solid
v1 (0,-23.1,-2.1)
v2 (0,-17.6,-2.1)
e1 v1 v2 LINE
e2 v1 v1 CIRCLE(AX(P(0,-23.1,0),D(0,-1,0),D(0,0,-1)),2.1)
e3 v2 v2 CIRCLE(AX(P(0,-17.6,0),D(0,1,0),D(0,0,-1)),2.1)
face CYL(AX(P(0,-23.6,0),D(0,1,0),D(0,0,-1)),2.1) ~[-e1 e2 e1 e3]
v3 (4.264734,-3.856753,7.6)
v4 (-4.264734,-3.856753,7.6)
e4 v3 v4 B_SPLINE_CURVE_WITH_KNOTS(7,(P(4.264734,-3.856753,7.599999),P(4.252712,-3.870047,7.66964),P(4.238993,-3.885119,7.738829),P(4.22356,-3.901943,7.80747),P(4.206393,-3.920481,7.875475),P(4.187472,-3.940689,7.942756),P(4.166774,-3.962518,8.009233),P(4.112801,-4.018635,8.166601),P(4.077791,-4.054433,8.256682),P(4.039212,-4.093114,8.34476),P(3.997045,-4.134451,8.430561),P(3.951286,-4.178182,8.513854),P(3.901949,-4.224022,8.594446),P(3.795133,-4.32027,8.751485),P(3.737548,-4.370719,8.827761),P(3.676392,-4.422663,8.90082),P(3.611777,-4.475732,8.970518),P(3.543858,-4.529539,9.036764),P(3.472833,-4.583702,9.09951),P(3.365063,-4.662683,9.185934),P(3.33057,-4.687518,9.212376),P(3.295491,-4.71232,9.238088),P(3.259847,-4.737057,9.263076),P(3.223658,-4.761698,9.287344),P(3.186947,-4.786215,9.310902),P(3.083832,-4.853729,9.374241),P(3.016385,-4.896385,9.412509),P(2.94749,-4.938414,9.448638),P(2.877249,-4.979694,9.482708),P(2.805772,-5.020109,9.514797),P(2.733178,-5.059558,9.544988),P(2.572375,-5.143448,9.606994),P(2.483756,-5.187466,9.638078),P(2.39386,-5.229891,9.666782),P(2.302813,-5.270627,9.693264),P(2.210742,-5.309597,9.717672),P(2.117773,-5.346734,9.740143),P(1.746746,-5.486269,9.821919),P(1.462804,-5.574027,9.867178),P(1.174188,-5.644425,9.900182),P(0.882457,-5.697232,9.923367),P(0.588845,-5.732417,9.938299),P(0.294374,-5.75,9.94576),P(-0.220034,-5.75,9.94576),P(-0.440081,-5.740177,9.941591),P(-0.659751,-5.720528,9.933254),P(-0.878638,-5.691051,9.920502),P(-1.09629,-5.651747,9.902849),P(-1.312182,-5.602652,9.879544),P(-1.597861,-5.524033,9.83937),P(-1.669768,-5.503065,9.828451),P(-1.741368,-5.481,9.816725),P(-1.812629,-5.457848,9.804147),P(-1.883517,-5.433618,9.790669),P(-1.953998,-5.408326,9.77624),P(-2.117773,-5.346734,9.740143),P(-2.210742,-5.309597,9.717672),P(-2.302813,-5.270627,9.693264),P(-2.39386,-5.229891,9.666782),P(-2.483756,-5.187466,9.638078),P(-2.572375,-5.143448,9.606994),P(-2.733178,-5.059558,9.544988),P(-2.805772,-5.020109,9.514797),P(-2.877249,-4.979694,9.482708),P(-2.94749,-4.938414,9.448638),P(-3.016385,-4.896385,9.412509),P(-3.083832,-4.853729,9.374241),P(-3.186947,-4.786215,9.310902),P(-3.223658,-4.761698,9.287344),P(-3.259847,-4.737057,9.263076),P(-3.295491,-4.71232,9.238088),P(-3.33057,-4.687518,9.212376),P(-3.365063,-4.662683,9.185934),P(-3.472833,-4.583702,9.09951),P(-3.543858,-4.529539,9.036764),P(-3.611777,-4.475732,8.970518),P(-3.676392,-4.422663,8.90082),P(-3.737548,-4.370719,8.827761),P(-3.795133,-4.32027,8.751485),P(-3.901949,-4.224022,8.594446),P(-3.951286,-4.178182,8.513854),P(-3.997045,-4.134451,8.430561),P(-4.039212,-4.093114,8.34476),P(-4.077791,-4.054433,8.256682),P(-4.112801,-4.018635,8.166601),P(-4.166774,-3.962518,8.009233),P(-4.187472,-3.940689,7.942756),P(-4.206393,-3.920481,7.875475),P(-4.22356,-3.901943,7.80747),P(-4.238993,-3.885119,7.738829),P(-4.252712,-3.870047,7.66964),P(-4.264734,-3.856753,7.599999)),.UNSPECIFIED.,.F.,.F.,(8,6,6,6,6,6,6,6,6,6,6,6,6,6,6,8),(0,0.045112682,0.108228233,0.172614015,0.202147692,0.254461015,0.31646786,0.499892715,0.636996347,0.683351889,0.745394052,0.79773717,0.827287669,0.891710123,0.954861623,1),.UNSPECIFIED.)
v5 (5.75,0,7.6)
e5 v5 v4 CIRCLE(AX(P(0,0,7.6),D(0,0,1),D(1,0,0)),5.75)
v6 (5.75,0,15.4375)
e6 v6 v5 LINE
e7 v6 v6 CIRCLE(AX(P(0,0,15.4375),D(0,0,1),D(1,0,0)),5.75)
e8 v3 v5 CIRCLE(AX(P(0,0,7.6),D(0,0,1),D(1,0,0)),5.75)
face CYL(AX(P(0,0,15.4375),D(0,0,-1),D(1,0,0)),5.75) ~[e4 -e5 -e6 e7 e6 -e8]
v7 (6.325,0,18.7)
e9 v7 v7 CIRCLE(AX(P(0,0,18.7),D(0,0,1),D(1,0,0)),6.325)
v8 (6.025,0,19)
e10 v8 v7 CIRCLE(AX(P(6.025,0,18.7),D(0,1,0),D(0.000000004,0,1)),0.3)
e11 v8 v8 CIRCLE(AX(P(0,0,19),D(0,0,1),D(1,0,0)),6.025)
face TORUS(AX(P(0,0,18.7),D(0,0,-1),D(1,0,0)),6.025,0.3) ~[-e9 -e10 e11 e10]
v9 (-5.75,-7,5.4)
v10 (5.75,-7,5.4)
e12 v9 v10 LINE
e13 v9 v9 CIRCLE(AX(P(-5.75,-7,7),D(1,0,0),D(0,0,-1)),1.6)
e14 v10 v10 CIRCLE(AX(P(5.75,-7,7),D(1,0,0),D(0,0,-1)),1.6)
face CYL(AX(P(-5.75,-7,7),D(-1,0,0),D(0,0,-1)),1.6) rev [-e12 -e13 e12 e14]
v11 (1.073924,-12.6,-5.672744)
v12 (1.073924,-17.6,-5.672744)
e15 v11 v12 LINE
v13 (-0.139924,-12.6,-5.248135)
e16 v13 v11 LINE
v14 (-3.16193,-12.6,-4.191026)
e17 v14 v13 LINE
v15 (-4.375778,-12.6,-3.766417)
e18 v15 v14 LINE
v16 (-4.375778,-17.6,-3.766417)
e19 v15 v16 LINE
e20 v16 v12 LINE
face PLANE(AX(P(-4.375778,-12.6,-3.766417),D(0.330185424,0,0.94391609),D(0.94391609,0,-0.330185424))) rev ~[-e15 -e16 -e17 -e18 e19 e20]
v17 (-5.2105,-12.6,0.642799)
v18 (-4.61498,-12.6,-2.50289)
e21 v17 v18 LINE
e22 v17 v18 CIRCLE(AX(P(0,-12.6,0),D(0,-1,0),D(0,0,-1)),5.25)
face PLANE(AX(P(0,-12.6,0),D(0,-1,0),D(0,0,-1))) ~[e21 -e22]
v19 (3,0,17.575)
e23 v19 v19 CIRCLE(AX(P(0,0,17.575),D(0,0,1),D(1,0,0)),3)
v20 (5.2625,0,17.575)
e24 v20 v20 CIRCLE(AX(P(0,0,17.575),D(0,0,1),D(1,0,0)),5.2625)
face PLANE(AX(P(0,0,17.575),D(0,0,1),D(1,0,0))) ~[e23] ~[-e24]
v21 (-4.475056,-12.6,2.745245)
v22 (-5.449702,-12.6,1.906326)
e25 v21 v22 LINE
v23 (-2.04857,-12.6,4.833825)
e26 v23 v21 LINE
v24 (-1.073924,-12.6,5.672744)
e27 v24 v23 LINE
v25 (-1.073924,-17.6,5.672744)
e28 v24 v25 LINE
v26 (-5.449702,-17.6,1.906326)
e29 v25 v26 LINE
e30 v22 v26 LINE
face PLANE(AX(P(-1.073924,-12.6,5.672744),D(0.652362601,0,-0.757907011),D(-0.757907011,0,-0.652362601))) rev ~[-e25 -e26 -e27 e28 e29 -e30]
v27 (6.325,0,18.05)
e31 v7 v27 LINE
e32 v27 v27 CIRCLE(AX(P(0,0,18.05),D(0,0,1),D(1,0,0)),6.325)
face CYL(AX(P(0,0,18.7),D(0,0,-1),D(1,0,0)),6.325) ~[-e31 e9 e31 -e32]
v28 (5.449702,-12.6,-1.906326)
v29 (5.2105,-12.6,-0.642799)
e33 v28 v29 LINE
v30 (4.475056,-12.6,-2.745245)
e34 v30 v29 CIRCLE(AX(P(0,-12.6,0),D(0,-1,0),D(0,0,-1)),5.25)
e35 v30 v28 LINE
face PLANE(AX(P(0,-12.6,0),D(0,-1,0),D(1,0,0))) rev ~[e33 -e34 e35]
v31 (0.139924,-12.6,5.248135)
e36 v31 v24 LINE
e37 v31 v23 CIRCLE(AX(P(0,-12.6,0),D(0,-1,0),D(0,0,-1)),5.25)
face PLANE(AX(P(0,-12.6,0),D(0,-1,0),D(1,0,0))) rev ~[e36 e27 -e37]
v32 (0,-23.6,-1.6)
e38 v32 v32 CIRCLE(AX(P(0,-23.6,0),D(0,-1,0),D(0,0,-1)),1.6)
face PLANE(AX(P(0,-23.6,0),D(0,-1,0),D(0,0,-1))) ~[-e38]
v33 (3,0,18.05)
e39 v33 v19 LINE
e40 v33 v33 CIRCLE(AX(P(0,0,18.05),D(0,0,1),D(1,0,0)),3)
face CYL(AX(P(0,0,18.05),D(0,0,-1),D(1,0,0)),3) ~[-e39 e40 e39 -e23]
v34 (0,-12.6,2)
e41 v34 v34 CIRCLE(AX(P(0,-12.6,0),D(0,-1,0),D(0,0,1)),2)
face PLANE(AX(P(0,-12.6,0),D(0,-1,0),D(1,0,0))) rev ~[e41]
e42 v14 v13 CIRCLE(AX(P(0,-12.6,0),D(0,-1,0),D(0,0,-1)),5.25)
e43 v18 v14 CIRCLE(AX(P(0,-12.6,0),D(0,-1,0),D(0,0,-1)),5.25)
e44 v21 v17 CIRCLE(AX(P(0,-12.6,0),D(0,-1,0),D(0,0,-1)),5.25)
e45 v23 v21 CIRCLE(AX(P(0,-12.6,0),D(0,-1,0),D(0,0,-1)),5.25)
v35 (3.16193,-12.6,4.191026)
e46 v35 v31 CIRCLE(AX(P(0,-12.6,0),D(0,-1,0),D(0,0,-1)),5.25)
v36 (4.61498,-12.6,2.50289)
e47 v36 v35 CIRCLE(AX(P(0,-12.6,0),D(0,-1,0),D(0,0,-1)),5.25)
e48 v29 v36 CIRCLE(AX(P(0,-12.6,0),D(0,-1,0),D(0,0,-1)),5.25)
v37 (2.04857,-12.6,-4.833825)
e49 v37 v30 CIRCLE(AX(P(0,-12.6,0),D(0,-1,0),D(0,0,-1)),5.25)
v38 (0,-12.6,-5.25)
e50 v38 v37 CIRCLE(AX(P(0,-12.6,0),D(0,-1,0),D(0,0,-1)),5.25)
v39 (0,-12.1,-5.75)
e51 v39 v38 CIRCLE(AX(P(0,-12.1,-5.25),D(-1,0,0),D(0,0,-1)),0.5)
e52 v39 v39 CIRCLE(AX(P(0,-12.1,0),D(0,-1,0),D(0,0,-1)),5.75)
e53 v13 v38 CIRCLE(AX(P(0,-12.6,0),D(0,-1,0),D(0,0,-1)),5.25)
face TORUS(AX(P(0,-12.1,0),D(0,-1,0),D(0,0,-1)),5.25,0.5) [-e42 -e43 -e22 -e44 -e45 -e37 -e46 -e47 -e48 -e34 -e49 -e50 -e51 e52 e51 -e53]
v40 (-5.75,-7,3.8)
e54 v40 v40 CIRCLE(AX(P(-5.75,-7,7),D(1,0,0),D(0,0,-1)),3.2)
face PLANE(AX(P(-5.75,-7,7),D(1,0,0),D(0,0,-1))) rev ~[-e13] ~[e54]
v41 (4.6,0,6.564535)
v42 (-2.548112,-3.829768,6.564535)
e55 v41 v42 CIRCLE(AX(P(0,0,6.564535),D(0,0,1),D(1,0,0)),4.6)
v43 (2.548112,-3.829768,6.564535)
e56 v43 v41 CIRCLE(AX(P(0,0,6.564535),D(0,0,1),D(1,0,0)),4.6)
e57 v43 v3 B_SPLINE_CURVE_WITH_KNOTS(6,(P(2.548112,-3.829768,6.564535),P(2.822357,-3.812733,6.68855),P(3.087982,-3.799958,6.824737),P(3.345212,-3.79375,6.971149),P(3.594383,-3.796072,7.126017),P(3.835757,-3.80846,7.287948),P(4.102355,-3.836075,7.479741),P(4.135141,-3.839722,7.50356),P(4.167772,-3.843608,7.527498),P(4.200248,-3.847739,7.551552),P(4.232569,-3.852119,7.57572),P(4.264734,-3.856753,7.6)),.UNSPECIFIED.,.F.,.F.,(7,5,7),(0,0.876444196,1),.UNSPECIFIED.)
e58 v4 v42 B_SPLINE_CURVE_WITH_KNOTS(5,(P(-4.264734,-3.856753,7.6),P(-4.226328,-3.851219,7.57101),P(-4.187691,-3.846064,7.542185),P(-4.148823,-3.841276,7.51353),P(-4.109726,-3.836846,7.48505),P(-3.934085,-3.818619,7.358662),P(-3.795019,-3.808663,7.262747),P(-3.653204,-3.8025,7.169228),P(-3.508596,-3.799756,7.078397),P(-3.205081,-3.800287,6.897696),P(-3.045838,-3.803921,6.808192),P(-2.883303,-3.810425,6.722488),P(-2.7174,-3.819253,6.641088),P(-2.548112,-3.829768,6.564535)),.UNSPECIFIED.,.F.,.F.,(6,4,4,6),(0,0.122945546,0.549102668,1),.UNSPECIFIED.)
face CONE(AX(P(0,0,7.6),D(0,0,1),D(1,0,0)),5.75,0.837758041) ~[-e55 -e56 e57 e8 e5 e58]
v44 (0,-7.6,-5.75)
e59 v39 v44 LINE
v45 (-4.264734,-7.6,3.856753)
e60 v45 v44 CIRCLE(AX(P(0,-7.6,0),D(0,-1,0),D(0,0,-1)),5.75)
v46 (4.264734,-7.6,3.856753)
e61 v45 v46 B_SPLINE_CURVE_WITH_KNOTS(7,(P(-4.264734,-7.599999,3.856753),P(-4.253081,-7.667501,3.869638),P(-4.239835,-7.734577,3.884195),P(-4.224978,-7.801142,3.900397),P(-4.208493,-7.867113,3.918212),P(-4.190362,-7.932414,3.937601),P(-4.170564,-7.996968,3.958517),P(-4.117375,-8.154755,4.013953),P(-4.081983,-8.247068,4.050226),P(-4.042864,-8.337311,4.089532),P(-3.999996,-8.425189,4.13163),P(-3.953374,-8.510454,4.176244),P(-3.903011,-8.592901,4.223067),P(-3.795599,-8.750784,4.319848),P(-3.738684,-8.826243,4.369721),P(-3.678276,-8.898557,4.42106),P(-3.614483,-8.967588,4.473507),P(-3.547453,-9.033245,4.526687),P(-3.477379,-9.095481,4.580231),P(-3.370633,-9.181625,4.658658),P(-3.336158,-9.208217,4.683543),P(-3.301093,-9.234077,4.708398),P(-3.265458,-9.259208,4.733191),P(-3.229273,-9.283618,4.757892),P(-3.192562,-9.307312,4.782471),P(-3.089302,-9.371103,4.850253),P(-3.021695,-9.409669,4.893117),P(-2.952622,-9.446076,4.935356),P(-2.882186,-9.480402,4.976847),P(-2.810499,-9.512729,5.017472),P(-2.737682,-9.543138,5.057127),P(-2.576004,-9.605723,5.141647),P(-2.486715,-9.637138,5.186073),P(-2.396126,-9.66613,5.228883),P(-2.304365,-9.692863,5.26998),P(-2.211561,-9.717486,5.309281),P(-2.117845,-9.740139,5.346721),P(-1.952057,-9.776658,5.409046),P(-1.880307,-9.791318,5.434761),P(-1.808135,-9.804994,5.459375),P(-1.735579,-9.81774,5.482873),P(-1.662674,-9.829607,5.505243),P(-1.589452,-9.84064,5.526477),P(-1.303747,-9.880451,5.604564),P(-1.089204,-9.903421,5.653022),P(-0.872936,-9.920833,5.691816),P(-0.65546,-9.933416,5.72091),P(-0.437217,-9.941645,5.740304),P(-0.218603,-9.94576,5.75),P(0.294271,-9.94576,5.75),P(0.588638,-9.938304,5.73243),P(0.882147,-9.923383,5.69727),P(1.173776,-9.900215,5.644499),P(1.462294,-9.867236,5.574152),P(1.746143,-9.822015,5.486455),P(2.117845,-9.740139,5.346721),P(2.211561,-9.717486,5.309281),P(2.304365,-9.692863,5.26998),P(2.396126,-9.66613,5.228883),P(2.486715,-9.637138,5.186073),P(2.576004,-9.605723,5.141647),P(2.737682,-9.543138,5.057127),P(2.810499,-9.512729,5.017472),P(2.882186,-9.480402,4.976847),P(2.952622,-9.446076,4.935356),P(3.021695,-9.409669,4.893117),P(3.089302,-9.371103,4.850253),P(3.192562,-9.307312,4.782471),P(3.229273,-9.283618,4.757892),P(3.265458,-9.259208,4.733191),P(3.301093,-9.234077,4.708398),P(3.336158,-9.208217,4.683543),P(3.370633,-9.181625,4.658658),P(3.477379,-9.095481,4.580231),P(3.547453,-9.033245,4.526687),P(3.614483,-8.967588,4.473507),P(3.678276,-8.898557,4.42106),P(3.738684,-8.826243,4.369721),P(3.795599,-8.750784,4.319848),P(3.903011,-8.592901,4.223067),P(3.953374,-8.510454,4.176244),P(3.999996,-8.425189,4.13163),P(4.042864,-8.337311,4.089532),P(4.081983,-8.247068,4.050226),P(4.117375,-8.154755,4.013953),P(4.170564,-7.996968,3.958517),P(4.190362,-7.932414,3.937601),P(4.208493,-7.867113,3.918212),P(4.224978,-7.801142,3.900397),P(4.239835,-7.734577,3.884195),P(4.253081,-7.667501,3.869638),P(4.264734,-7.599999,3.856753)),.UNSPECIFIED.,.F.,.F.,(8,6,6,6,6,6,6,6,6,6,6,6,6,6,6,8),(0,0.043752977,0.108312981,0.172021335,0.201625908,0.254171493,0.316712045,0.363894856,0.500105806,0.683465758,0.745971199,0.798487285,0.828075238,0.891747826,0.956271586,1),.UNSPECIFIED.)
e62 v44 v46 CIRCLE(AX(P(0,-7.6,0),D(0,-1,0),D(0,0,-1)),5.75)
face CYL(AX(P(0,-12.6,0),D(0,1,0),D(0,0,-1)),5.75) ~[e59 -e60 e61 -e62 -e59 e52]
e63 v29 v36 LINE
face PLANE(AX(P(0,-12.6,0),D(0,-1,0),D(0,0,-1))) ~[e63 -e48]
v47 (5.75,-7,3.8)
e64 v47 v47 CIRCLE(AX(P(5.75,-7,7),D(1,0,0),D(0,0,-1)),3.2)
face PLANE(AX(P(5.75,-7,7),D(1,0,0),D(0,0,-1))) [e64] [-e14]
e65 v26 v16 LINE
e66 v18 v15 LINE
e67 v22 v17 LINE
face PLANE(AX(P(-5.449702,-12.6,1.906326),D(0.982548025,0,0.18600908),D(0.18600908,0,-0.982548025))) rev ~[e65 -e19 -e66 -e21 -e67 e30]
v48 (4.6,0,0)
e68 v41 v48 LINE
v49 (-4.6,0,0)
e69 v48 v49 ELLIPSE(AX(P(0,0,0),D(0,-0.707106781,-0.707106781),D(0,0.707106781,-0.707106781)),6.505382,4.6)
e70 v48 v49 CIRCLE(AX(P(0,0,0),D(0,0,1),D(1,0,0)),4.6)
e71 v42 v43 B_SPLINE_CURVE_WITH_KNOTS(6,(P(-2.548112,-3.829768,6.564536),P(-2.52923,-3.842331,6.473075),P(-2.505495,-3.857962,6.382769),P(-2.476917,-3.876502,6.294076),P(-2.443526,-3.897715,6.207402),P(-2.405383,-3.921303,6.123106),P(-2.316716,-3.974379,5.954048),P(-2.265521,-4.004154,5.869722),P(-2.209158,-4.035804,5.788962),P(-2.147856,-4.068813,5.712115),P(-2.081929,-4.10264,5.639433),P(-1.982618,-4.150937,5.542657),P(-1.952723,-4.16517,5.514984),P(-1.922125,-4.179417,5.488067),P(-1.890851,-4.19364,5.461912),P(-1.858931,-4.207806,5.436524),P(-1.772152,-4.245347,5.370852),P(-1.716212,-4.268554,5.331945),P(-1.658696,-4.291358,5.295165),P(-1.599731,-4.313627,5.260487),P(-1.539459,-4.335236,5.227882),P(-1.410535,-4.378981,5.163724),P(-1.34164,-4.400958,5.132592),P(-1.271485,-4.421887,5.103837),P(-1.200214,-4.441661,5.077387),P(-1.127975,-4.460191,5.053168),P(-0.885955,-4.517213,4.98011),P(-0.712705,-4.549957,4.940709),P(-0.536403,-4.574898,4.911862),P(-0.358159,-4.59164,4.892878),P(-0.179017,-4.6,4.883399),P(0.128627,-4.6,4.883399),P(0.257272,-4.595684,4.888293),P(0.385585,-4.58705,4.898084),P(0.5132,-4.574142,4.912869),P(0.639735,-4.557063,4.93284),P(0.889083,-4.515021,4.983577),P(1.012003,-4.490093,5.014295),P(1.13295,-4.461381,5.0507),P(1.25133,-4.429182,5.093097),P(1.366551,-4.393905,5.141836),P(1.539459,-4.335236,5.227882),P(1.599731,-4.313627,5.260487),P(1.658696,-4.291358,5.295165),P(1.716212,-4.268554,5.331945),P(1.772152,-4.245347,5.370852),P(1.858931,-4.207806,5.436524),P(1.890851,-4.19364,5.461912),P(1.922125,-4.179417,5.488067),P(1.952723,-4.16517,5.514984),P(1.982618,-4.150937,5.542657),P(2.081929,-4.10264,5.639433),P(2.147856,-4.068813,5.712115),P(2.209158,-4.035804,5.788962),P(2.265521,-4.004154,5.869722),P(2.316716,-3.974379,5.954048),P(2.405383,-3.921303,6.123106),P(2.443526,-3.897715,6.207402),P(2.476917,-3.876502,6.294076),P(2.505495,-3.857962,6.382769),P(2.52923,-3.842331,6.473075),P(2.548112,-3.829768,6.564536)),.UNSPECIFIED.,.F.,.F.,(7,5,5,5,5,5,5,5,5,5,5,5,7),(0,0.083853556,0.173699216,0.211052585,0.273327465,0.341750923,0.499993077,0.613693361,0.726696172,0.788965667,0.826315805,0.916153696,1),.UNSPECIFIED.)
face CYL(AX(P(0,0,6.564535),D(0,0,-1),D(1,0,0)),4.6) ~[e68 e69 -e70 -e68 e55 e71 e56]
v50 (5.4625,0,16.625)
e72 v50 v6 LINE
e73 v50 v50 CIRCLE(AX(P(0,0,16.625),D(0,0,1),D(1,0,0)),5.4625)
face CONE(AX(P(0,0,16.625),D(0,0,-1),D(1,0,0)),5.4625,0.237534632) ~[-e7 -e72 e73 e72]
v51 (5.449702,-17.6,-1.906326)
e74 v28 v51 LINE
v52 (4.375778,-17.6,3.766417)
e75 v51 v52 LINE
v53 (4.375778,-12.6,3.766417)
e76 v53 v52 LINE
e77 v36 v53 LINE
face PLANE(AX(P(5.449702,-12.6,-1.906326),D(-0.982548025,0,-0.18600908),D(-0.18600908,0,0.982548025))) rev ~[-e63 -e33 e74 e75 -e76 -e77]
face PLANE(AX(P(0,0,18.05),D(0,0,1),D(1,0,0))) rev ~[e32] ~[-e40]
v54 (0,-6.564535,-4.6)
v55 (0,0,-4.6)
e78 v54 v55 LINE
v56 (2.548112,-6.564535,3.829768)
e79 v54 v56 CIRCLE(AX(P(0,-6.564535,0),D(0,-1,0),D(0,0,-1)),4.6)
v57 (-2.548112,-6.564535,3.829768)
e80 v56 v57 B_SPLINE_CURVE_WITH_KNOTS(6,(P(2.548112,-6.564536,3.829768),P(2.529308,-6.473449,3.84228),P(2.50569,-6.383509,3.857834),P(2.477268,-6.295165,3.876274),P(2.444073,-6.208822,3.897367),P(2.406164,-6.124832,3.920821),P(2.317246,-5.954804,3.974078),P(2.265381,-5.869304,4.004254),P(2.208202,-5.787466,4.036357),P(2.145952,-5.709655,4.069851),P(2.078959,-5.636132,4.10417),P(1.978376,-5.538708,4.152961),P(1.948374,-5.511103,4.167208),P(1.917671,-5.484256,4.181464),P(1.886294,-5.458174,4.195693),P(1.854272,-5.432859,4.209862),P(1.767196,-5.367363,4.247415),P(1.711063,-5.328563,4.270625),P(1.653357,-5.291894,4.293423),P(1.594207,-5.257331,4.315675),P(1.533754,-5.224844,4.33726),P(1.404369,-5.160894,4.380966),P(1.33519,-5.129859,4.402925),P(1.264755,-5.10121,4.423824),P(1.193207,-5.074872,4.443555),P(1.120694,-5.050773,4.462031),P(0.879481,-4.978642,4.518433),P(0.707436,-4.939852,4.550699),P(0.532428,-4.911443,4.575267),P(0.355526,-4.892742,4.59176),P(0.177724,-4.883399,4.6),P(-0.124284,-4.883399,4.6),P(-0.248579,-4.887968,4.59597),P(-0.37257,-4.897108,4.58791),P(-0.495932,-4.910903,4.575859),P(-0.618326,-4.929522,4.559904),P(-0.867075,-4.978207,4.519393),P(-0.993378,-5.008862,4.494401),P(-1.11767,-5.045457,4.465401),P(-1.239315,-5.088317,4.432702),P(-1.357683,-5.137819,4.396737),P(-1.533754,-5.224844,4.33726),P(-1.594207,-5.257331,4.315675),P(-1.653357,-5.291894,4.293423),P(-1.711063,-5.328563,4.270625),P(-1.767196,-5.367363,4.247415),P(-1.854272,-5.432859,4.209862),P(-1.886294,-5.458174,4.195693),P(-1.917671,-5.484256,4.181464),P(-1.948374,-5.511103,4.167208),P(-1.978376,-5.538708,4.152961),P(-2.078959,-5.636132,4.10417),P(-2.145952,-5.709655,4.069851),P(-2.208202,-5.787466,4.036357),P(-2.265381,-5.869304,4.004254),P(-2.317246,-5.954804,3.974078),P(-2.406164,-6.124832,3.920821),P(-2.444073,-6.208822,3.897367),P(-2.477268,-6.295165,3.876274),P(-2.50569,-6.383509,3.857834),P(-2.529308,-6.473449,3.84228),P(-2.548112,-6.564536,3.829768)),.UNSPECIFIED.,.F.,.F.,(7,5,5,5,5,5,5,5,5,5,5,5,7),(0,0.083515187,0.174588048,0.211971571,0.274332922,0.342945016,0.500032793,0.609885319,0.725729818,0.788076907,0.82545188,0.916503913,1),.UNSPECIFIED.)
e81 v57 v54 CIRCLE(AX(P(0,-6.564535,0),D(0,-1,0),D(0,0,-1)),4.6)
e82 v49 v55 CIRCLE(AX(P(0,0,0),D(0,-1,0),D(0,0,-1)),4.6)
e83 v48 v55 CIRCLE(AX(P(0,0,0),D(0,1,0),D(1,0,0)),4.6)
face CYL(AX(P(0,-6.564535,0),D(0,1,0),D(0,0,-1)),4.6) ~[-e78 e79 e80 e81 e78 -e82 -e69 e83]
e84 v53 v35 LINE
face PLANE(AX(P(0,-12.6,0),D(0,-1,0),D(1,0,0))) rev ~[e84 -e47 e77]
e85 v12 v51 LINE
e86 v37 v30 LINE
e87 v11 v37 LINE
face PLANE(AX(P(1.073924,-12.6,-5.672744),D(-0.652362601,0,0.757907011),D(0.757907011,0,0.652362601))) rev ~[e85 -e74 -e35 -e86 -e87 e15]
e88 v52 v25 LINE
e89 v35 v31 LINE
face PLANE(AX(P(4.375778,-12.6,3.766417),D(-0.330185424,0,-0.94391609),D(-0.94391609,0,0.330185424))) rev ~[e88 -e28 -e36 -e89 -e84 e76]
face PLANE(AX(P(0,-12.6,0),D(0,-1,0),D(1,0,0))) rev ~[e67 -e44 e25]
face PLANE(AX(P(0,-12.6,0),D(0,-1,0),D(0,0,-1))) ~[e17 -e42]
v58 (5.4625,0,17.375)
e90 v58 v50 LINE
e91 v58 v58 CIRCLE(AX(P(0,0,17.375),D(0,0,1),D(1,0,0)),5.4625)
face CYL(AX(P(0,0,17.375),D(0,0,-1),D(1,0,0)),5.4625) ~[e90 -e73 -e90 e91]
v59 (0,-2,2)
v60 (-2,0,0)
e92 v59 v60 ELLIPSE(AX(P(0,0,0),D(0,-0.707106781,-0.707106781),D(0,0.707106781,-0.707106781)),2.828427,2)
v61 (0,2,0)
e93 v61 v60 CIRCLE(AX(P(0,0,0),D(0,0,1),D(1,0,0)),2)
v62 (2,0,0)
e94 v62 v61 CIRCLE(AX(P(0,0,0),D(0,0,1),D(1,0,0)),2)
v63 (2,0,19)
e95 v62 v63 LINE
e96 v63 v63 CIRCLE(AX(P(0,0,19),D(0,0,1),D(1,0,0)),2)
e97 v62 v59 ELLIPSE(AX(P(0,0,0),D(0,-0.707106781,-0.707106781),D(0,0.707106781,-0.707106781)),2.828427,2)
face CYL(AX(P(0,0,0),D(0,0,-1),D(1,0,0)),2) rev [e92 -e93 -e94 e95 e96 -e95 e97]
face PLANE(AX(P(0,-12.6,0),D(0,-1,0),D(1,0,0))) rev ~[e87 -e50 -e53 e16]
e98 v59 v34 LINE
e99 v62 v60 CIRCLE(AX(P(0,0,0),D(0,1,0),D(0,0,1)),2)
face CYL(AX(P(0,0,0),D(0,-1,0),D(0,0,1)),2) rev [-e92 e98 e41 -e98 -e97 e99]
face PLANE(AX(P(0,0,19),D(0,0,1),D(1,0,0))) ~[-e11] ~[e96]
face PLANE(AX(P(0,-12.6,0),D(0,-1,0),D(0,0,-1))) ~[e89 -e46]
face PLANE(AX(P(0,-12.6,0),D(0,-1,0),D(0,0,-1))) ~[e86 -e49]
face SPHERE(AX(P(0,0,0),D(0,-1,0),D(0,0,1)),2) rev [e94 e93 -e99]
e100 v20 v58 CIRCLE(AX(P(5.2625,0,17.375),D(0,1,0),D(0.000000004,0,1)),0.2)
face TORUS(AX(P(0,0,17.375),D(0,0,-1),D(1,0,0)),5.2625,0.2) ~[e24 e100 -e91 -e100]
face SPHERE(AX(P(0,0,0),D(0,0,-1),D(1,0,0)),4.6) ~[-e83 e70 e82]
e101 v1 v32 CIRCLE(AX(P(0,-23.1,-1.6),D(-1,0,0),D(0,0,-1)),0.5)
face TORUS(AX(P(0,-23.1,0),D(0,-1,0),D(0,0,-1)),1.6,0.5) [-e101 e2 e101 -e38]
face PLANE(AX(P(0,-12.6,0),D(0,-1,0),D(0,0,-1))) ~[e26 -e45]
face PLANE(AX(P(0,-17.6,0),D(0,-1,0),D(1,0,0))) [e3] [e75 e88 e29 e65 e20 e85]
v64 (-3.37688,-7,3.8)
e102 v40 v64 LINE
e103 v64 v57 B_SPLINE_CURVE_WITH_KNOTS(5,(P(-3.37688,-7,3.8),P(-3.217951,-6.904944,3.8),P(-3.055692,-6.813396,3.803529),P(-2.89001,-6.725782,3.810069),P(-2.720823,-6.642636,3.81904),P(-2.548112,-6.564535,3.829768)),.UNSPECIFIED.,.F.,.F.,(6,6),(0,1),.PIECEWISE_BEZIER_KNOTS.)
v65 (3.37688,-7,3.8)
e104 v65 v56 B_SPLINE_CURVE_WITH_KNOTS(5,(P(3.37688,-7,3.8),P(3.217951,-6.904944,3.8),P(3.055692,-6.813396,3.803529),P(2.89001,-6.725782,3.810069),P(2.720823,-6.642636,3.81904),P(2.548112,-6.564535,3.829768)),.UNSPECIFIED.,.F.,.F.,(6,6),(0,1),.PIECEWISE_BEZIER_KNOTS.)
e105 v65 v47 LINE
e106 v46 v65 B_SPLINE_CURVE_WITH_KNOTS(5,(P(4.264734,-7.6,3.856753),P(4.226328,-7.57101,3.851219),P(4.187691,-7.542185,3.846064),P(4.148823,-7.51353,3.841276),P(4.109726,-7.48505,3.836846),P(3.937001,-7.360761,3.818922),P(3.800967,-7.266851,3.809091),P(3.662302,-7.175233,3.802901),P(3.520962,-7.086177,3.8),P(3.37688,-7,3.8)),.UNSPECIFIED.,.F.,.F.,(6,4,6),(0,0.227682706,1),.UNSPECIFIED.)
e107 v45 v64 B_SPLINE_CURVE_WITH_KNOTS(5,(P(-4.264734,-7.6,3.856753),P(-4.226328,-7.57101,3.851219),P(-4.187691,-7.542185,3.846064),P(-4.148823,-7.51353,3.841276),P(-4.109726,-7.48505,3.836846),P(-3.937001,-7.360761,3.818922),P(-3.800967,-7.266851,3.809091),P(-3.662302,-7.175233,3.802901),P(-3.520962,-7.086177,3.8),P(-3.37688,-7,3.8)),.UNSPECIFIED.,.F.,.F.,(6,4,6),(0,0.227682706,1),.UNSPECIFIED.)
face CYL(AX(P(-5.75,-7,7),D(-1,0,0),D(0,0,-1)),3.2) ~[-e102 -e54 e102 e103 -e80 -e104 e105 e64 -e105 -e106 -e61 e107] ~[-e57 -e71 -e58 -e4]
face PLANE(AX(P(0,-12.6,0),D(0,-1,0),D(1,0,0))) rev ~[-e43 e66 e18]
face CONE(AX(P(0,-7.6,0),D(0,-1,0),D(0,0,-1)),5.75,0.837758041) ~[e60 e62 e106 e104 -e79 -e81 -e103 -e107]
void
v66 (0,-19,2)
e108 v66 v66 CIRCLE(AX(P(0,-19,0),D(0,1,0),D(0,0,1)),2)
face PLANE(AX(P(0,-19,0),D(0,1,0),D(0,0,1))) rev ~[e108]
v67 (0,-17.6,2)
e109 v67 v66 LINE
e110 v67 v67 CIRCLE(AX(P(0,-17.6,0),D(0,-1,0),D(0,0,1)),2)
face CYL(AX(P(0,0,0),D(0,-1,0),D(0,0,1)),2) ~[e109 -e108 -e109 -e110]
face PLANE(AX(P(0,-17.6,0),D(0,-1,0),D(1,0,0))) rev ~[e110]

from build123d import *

# Parameters (mm, degrees)
SKETCH_3_R               = 2
CUT_EXTRUDE_1_DEPTH      = 19
EXTRUDE_1_DEPTH          = 5.75
EXTRUDE_1_DEPTH_BACK     = 5.75
SKETCH_5_R               = 3.2
CUT_EXTRUDE_2_DEPTH      = 5.75
CUT_EXTRUDE_2_DEPTH_BACK = 5.75
SKETCH_6_R               = 1.6
FILLET_1_R               = 0.5
EXTRUDE_2_DEPTH          = 5


with BuildPart() as part:
    # 草图1 → 旋转1 (revolve)
    with BuildSketch(Plane(origin=(0, 0, 0), x_dir=(0, 0, -1), z_dir=(1, 0, 0))):
        with BuildLine():
            Line((-19, 0), (-19, 6.025))
            ThreePointArc((-19, 6.025), (-18.912132034, 6.237132034), (-18.7, 6.325))
            Line((-18.7, 6.325), (-18.05, 6.325))
            Line((-18.05, 6.325), (-18.05, 3))
            Line((-18.05, 3), (-17.575, 3))
            Line((-17.575, 3), (-17.575, 5.2625))
            ThreePointArc((-17.575, 5.2625), (-17.516421356, 5.403921356), (-17.375, 5.4625))
            Line((-17.375, 5.4625), (-16.625, 5.4625))
            Line((-16.625, 5.4625), (-15.4375, 5.75))
            Line((-15.4375, 5.75), (-7.6, 5.75))
            Line((-7.6, 5.75), (-6.564535349, 4.6))
            Line((-6.564535349, 4.6), (0, 4.6))
            ThreePointArc((0, 4.6), (3.252691193, 3.252691193), (4.6, 0))
            Line((4.6, 0), (-19, 0))
        make_face()
    revolve(axis=Axis((0, 0, -4.6), (0, 0, 1)))

    # 草图2 → 旋转2 (revolve)
    with BuildSketch(Plane(origin=(0, 0, 0), x_dir=(0, 0, -1), z_dir=(1, 0, 0))):
        Polygon((-5.75, -12.6), (-5.75, -7.6), (-4.6, -6.564535349), (-4.6, 0), (0, 0), (0, -23.6), (-2.1, -23.6), (-2.1, -12.6), align=None)
    revolve(axis=Axis((0, 0, 0), (0, -1, 0)))

    # 草图3 → 切除-拉伸1 (cut)
    with BuildSketch(Plane.XY):
        Circle(SKETCH_3_R)
    extrude(amount=CUT_EXTRUDE_1_DEPTH, mode=Mode.SUBTRACT)

    # 草图4 → 切除-旋转1 (revolve, cut)
    with BuildSketch(Plane(origin=(0, 0, 0), x_dir=(0, 0, -1), z_dir=(1, 0, 0))):
        with BuildLine():
            Line((2, 0), (2, -19))
            Line((2, -19), (0, -19))
            Line((0, -19), (0, 2))
            ThreePointArc((0, 2), (1.414213562, 1.414213562), (2, 0))
        make_face()
    revolve(axis=Axis((0, -19, 0), (0, 1, 0)), mode=Mode.SUBTRACT)

    # 草图5 → 凸台-拉伸1 (add, two sides: drawn at the far end of the back side and taken through both)
    with BuildSketch(Plane(origin=(0, 0, 0), x_dir=(0, 0, -1), z_dir=(1, 0, 0)).offset(-EXTRUDE_1_DEPTH_BACK)):
        with Locations((-7, -7)):
            Circle(SKETCH_5_R)
    extrude(amount=EXTRUDE_1_DEPTH + EXTRUDE_1_DEPTH_BACK)

    # 草图6 → 切除-拉伸2 (cut, two sides: drawn at the far end of the back side and taken through both)
    with BuildSketch(Plane(origin=(0, 0, 0), x_dir=(0, 0, -1), z_dir=(1, 0, 0)).offset(-CUT_EXTRUDE_2_DEPTH_BACK)):
        with Locations((-7, -7)):
            Circle(SKETCH_6_R)
    extrude(amount=CUT_EXTRUDE_2_DEPTH + CUT_EXTRUDE_2_DEPTH_BACK, mode=Mode.SUBTRACT)

    # 圆角1
    fillet_1_edges = [part.edges().sort_by_distance(p)[0] for p in [
        (0, -12.6, -5.75),
        (0, -23.6, -2.1),
    ]]
    fillet(fillet_1_edges, radius=FILLET_1_R)

    # 草图7 → 凸台-拉伸2 (add)
    with BuildSketch(Plane.XZ.offset(12.6)):
        Polygon((5.449702089, -1.906326436), (4.375778165, 3.766417234), (-1.073923923, 5.67274367), (-5.449702089, 1.906326436), (-4.375778165, -3.766417234), (1.073923923, -5.67274367), align=None)
    extrude(amount=EXTRUDE_2_DEPTH)


solid = part.part
